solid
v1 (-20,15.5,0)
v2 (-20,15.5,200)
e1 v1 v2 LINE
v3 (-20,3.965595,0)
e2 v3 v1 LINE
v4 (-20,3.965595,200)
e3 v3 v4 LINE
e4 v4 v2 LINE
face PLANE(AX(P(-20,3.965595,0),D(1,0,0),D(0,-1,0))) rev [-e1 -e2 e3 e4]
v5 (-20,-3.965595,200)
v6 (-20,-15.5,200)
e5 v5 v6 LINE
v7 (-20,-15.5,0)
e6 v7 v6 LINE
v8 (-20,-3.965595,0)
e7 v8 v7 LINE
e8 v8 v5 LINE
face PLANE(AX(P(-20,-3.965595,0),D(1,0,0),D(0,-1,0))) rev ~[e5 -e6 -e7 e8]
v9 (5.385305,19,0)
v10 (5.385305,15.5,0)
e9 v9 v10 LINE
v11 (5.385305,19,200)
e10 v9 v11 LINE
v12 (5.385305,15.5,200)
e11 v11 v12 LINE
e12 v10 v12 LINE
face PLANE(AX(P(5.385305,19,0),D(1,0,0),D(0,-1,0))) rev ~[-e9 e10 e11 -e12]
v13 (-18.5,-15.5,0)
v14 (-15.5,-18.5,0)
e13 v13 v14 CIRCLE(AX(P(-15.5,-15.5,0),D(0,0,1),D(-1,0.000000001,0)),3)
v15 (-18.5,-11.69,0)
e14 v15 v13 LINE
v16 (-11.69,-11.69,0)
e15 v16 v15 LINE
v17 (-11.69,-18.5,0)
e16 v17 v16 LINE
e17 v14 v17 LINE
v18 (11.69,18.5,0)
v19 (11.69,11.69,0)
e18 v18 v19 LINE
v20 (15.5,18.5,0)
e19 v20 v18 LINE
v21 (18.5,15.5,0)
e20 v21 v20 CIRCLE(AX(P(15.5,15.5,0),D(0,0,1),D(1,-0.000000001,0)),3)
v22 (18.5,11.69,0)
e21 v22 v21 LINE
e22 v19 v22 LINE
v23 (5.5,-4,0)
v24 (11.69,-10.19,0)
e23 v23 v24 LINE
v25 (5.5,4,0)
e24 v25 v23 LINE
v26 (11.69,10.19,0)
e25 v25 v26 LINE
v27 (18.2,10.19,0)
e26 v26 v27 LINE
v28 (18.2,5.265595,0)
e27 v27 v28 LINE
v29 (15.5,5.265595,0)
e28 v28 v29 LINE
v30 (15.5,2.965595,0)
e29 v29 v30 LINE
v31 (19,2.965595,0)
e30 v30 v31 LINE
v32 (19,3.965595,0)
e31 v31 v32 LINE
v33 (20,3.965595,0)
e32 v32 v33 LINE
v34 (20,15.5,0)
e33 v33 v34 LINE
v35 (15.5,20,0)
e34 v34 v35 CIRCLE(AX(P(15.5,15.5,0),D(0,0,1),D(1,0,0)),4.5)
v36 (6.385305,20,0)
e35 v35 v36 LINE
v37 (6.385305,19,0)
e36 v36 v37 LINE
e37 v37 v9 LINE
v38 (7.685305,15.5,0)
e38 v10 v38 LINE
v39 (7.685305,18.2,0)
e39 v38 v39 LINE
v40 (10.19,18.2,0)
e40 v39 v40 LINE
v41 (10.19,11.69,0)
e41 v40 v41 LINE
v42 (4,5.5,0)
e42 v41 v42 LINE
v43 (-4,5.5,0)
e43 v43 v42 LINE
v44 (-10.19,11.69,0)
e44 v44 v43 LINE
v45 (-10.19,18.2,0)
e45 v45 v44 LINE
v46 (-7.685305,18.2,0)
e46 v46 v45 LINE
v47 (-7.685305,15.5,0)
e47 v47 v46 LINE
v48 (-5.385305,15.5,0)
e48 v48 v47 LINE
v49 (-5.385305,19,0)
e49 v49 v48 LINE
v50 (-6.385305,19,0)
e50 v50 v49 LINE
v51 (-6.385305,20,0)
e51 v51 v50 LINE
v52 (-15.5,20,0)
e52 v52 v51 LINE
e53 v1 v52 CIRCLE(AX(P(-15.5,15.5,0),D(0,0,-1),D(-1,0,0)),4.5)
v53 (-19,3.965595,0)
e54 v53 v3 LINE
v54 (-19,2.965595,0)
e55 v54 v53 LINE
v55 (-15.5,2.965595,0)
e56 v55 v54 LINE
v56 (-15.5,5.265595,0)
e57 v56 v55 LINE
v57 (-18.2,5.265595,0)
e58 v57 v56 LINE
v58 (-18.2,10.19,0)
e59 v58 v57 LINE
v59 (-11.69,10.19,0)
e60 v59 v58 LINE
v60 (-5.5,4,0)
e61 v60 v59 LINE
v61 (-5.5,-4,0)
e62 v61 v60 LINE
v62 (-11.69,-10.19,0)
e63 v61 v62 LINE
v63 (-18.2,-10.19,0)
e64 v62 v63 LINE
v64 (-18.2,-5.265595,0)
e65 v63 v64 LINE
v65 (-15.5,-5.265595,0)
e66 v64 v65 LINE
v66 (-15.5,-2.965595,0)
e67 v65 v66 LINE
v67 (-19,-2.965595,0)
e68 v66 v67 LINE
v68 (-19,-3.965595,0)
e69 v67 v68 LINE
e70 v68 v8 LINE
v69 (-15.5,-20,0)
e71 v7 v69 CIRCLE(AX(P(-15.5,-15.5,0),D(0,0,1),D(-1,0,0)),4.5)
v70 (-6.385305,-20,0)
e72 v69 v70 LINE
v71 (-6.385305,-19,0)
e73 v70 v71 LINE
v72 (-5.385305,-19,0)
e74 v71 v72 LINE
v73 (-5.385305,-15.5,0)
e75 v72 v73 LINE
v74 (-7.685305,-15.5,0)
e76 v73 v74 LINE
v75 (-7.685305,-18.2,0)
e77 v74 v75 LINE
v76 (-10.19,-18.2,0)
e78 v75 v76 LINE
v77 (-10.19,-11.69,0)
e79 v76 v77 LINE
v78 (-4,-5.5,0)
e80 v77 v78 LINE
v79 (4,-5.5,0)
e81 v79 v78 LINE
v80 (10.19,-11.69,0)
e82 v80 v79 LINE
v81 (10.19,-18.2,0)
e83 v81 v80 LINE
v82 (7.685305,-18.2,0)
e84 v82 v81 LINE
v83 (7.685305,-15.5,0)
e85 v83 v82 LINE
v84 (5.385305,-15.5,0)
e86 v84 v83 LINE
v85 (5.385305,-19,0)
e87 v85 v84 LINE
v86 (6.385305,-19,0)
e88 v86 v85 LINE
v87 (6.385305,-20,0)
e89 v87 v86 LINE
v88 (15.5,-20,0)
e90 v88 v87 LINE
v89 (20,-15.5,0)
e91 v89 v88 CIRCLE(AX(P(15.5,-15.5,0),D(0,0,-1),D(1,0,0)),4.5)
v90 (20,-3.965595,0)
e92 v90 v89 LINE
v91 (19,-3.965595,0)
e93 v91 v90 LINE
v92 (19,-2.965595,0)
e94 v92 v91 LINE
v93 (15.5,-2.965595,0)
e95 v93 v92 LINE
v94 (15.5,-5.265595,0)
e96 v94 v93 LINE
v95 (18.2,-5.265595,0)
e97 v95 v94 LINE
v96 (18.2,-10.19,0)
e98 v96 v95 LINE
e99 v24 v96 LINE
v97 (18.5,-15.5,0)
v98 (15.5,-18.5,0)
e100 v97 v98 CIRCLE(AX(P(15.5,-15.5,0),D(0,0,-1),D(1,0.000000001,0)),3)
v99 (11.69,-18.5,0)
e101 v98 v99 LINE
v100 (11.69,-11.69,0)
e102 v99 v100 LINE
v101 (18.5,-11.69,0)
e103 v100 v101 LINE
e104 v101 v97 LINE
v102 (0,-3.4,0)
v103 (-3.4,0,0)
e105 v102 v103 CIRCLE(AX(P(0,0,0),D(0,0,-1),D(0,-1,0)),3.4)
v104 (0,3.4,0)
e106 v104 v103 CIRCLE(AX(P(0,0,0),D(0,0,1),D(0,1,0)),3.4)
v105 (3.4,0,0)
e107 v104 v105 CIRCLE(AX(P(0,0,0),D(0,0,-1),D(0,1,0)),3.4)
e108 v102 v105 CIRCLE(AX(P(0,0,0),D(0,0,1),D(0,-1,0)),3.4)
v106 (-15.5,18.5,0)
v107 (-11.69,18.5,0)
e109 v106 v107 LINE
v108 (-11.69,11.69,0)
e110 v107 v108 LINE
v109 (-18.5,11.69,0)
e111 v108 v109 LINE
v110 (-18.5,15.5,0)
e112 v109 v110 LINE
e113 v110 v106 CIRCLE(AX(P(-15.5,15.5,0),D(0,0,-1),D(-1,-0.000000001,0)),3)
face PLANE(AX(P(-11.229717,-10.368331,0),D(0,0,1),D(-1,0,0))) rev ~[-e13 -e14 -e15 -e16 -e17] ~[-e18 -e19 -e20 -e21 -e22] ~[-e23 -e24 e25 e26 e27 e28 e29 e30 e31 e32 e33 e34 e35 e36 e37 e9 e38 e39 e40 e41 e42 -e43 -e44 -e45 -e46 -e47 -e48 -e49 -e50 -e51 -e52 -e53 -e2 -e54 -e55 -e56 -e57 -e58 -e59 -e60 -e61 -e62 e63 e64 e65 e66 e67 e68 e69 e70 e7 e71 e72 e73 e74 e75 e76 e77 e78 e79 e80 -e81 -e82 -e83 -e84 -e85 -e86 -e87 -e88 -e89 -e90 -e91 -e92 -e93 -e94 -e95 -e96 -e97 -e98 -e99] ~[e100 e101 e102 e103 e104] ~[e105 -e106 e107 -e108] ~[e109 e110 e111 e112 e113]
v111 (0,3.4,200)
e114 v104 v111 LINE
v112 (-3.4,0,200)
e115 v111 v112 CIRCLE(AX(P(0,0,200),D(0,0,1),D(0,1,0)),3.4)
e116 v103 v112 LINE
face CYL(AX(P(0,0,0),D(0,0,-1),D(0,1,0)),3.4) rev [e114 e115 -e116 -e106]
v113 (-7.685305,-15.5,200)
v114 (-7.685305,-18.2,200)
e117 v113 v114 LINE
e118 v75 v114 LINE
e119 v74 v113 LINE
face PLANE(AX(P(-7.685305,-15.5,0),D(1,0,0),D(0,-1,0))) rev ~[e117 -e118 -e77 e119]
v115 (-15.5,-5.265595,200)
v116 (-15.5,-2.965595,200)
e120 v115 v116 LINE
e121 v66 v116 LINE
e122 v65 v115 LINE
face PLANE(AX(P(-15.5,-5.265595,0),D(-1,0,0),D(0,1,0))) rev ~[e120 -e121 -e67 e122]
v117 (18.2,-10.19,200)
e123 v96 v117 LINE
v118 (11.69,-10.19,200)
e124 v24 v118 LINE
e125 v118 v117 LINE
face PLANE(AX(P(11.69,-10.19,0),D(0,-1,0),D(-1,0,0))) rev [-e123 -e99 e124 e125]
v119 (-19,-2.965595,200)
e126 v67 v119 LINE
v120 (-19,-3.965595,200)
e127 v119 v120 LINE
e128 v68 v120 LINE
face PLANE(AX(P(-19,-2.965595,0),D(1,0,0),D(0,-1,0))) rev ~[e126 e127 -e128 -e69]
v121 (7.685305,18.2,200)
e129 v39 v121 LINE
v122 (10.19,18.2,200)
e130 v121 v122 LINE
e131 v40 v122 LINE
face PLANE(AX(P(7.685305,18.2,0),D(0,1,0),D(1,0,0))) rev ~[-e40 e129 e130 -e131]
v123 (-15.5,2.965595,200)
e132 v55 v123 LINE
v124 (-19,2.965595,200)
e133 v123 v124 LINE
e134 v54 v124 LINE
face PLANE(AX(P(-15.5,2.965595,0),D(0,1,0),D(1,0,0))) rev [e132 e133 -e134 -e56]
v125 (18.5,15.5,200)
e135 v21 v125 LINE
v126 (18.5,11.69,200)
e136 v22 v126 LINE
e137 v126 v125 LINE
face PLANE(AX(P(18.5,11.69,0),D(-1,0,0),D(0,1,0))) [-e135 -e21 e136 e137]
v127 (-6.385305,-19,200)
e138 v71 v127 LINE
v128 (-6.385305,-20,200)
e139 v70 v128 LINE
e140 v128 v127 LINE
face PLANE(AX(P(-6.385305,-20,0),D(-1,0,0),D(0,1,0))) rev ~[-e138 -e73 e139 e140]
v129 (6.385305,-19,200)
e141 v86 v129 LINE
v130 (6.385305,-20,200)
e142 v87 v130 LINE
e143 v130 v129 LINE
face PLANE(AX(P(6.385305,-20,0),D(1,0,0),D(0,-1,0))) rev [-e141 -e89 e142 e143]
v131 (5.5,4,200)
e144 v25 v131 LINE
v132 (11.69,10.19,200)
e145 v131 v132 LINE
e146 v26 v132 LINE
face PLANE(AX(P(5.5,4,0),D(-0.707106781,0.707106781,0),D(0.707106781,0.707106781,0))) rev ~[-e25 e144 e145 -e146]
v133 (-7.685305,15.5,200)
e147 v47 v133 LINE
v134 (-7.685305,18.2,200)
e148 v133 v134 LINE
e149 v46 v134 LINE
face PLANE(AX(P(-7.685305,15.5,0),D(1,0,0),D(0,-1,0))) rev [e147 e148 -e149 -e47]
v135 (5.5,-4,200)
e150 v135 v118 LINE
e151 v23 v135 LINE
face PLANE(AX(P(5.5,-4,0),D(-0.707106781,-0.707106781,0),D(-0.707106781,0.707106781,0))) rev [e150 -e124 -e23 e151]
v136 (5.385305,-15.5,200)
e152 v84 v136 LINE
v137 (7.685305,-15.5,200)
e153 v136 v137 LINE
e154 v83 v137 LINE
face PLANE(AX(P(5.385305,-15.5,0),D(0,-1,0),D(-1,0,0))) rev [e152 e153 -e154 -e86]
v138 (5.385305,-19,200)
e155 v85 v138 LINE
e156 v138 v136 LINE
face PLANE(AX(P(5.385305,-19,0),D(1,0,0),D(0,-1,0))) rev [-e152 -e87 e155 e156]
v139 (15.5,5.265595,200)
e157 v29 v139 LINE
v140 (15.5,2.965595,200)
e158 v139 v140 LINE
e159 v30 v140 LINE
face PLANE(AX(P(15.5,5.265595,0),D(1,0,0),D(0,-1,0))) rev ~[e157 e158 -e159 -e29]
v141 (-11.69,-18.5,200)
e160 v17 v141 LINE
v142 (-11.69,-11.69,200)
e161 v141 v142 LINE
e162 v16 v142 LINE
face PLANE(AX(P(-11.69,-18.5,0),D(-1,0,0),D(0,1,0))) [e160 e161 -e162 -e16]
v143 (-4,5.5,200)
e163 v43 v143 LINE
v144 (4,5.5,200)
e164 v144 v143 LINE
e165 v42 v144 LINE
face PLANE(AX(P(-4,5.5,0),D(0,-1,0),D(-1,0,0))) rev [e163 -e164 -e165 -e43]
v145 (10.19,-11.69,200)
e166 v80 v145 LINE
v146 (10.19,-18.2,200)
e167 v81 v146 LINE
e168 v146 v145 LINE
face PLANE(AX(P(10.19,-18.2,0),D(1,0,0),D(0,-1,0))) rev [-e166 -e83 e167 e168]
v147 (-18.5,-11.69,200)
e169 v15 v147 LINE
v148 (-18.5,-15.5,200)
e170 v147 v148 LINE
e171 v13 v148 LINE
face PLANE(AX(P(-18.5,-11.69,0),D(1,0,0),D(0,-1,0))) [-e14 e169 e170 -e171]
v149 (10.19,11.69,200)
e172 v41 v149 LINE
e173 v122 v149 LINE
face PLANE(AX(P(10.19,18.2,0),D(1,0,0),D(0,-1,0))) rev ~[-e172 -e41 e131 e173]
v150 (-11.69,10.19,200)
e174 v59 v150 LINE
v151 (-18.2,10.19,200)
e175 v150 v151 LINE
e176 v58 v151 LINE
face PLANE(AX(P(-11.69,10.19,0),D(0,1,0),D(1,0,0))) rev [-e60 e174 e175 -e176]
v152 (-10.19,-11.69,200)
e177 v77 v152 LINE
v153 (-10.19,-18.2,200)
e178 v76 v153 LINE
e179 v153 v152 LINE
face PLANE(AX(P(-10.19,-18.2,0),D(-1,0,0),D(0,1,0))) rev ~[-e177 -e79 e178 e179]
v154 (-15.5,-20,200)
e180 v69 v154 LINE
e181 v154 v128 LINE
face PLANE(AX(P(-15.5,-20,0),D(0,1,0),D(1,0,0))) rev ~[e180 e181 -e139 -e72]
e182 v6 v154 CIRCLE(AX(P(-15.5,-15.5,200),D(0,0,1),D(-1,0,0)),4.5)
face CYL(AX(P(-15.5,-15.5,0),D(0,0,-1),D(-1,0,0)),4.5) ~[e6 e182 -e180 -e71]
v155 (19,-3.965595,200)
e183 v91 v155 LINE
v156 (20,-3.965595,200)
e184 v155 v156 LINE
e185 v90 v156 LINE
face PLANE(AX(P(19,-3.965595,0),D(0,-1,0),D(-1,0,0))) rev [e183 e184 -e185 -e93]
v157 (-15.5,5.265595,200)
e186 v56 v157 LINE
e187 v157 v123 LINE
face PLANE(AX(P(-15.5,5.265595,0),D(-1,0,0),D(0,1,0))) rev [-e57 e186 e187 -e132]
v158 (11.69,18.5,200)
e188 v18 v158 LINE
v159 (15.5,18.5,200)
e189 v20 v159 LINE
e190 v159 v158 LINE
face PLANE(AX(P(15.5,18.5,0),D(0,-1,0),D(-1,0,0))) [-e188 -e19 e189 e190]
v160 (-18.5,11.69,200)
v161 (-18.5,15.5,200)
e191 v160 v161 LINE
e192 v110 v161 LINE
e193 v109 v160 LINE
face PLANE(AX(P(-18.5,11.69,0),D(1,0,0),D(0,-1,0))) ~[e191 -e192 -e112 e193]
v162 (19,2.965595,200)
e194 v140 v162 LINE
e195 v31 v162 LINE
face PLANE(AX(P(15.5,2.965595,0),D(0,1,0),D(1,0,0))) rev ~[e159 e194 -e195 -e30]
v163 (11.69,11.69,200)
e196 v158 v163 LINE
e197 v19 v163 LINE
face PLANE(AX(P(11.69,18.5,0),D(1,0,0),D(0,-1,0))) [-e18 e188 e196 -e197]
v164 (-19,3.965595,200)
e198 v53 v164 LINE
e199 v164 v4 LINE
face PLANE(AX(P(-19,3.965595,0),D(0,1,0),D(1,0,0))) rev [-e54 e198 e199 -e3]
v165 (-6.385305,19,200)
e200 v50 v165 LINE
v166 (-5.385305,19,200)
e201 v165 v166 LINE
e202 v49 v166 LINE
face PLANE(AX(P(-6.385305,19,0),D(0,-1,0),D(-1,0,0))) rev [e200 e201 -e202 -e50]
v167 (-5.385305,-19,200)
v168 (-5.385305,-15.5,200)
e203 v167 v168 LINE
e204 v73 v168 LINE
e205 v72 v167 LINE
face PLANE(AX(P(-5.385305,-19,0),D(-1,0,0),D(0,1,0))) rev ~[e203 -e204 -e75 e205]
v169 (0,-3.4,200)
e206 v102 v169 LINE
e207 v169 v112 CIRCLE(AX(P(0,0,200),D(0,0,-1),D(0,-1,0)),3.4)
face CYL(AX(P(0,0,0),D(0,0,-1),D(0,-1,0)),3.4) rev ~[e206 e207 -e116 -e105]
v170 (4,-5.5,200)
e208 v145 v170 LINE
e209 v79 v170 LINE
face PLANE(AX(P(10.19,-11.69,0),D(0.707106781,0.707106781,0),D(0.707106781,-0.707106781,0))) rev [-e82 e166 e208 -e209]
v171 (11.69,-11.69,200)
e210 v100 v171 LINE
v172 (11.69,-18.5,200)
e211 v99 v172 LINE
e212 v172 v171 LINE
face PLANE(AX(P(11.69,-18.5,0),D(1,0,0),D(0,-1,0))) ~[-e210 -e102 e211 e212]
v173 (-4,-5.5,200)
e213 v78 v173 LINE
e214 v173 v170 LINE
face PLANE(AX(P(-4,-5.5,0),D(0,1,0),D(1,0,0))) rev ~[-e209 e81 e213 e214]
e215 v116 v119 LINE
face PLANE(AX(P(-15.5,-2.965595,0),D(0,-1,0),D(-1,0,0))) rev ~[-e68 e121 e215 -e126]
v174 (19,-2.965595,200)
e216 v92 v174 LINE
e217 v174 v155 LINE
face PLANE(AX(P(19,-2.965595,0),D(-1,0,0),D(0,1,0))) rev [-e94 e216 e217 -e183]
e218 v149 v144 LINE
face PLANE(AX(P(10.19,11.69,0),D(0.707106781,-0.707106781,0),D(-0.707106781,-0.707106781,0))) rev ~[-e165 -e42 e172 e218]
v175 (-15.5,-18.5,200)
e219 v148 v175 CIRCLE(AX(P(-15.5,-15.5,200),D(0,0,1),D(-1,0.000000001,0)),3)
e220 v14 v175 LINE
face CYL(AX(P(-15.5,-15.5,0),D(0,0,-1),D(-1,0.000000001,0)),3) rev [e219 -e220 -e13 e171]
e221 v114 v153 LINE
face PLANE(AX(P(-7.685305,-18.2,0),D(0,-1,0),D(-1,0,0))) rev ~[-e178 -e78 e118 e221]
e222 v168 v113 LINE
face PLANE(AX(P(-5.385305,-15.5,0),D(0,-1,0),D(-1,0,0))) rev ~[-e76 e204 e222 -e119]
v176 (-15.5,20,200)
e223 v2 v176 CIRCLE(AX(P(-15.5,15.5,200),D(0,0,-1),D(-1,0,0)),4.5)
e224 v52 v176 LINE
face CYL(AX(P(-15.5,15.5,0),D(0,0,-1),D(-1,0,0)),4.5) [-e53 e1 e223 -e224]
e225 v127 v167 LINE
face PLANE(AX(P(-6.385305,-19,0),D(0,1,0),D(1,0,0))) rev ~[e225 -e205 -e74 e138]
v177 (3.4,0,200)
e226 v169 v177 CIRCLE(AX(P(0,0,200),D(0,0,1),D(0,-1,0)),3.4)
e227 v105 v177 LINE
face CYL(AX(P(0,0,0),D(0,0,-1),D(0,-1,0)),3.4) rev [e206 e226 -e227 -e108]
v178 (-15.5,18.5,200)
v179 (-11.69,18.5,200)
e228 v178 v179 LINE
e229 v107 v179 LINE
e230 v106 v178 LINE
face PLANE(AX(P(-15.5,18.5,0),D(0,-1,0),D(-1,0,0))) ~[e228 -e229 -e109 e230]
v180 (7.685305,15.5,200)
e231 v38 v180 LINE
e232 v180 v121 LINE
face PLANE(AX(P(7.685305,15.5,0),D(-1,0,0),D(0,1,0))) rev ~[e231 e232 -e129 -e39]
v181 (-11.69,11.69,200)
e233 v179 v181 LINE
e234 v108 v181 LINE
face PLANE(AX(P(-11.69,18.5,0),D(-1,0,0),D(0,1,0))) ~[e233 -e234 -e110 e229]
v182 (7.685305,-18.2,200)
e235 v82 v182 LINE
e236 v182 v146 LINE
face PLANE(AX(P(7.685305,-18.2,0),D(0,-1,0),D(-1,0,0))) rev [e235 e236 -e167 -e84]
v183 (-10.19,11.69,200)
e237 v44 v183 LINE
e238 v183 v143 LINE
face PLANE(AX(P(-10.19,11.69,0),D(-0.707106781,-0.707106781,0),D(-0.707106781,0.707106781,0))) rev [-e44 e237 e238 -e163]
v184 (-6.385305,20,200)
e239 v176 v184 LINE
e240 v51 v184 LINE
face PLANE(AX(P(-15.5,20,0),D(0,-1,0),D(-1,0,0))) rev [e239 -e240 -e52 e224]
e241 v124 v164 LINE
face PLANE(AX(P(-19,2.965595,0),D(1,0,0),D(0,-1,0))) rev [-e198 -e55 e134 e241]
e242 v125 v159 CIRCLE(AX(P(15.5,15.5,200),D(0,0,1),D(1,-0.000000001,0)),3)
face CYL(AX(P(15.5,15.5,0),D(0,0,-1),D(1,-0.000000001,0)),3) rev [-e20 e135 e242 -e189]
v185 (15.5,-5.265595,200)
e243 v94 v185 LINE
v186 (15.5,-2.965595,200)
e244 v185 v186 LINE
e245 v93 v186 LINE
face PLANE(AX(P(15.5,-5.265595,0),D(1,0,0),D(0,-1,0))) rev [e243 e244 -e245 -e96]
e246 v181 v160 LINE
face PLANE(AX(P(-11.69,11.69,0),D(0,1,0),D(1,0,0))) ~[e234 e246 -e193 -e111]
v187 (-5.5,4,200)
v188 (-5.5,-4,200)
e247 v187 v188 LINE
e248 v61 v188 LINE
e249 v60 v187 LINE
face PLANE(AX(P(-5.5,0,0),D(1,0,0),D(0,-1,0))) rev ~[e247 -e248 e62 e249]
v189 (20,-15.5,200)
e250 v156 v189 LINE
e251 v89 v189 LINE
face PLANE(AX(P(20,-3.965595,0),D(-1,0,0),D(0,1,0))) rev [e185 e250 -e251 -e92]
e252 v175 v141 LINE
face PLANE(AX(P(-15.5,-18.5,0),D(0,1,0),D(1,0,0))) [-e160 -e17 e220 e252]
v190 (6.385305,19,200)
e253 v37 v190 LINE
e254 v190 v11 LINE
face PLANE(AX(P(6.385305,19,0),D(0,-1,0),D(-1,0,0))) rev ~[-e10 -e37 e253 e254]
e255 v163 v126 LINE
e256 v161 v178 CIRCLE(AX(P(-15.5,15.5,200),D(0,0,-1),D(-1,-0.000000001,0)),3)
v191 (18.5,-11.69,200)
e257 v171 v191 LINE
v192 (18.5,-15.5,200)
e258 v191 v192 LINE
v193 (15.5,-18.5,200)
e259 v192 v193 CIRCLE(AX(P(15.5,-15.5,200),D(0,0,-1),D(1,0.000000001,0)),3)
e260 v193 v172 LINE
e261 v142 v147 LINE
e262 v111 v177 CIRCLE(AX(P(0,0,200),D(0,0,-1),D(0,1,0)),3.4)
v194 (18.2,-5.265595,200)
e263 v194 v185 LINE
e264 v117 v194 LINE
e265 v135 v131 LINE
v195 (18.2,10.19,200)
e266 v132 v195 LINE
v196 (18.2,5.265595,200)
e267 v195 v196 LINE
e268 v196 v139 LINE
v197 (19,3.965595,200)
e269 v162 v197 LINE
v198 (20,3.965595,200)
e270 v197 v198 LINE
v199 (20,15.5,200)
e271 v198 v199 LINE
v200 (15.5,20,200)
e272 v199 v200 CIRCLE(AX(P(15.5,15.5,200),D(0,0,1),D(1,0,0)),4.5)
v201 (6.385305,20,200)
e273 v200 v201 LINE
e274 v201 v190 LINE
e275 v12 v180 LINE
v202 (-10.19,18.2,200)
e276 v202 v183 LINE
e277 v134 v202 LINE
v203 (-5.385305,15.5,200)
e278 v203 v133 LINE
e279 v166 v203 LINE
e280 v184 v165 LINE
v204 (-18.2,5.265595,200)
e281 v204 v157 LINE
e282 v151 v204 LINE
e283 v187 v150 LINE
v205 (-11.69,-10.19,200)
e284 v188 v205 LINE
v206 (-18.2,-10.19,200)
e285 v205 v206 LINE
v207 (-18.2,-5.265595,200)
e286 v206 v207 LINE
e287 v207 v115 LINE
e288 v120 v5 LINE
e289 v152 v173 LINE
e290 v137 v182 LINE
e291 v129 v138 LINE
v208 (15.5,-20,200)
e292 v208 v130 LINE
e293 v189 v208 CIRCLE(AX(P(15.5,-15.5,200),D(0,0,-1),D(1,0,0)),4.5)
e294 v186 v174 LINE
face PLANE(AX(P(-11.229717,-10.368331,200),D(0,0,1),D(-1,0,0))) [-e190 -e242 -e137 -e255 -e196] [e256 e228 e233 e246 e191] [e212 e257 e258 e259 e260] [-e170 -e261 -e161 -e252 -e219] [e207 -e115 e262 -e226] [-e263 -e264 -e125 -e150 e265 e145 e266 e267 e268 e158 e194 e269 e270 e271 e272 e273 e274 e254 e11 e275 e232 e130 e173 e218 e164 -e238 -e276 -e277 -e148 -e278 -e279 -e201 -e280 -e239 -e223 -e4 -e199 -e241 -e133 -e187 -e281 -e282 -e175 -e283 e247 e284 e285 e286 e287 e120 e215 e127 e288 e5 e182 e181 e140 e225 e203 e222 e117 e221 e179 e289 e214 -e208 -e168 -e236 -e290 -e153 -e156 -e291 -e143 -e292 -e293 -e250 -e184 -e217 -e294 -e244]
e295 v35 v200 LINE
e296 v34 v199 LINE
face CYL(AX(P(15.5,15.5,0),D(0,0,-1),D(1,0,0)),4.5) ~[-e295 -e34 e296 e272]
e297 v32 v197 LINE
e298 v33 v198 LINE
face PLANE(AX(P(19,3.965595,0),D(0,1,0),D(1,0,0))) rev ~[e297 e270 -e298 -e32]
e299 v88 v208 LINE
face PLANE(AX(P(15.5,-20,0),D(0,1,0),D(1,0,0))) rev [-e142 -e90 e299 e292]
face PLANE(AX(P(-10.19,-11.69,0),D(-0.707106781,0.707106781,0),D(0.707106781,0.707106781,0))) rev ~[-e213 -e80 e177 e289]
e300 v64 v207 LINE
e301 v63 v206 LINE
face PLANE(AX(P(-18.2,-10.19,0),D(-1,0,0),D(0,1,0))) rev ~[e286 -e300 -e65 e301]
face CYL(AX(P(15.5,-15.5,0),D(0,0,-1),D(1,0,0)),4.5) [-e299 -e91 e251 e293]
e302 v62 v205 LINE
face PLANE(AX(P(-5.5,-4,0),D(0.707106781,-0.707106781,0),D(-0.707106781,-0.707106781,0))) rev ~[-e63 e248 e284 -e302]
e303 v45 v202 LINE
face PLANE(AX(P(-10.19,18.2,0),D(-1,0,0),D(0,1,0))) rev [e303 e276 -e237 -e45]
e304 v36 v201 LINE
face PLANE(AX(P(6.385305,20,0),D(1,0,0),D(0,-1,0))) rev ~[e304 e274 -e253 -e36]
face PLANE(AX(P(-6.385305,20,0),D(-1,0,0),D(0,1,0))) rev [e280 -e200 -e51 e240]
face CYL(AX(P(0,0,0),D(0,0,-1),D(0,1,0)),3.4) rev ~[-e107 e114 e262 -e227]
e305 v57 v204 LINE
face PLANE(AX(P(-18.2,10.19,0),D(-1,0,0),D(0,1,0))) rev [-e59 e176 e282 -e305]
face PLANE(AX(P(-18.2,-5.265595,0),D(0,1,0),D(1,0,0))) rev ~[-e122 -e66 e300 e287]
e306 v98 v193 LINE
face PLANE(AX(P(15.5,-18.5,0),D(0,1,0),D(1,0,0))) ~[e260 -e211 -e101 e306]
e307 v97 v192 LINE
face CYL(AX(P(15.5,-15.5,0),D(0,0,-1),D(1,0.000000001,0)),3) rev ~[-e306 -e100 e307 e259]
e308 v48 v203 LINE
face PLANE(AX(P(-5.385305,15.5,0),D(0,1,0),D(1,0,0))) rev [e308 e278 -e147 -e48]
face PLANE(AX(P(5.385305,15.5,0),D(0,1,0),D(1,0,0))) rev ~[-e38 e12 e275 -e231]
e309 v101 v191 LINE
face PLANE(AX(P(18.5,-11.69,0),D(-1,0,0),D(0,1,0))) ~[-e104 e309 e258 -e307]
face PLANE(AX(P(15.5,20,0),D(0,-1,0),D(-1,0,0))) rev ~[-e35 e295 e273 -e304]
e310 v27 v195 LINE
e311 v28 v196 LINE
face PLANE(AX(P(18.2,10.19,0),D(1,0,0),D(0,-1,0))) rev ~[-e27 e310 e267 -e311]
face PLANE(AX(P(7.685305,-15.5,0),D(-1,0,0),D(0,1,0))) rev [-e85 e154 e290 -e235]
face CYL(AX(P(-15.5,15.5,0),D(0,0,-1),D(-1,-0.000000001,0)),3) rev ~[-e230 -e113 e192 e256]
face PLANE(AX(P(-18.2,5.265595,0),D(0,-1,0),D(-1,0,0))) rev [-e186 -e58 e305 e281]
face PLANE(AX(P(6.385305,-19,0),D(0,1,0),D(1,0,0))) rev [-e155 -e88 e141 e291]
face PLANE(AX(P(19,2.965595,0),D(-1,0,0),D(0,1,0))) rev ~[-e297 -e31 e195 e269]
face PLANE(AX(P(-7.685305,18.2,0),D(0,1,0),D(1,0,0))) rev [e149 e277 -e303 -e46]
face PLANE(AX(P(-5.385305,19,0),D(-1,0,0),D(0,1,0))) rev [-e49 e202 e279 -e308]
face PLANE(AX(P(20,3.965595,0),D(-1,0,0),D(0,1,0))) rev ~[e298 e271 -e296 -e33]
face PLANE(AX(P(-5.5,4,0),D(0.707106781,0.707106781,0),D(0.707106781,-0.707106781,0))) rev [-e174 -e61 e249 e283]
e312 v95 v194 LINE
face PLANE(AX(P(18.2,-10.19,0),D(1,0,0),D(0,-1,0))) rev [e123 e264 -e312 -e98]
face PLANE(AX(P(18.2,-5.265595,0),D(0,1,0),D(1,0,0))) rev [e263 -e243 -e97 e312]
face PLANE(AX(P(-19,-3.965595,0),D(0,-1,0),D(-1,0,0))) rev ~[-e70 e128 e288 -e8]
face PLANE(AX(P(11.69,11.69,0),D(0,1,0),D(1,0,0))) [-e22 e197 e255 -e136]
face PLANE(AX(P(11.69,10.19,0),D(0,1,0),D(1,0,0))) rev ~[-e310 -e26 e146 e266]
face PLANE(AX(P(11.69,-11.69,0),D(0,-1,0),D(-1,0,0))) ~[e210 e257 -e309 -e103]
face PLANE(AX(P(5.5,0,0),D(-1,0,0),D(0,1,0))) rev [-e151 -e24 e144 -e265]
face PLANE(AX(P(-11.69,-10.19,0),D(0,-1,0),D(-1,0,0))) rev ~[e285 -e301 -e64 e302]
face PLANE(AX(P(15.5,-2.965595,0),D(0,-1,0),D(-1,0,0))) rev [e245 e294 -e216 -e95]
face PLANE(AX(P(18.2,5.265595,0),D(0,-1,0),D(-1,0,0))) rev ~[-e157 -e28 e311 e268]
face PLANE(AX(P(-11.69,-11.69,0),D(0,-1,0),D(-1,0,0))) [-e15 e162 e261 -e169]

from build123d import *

# Parameters (mm, degrees)
BOSS_EXTRUDE1_DEPTH  = 200
MIRROR3_COPY_1_DEPTH = 200
MIRROR3_COPY_2_DEPTH = 200


with BuildPart() as part:
    # Sketch1 → Boss-Extrude1 (new body)
    with BuildSketch(Plane.XY):
        with BuildLine():
            Line((3.4, 0), (5.5, 0))
            Line((5.5, 0), (5.5, 4))
            Line((5.5, 4), (11.69, 10.19))
            Line((11.69, 10.19), (18.2, 10.19))
            Line((18.2, 10.19), (18.2, 5.265595036))
            Line((18.2, 5.265595036), (15.5, 5.265595036))
            Line((15.5, 5.265595036), (15.5, 2.965595036))
            Line((15.5, 2.965595036), (19, 2.965595036))
            Line((19, 2.965595036), (19, 3.965595036))
            Line((19, 3.965595036), (20, 3.965595036))
            Line((20, 3.965595036), (20, 15.5))
            ThreePointArc((20, 15.5), (18.681980515, 18.681980515), (15.5, 20))
            Line((15.5, 20), (6.385304712, 20))
            Line((6.385304712, 20), (6.385304712, 19))
            Line((6.385304712, 19), (5.385304712, 19))
            Line((5.385304712, 19), (5.385304712, 15.5))
            Line((5.385304712, 15.5), (7.685304712, 15.5))
            Line((7.685304712, 15.5), (7.685304712, 18.2))
            Line((7.685304712, 18.2), (10.19, 18.2))
            Line((10.19, 18.2), (10.19, 11.69))
            Line((10.19, 11.69), (4, 5.5))
            Line((4, 5.5), (0, 5.5))
            Line((0, 5.5), (0, 3.4))
            ThreePointArc((0, 3.4), (2.404163056, 2.404163056), (3.4, 0))
        make_face()
        with BuildLine():
            Line((18.5, 11.69), (18.5, 15.5))
            ThreePointArc((18.5, 15.5), (17.621320344, 17.621320344), (15.5, 18.5))
            Line((15.5, 18.5), (11.69, 18.5))
            Line((11.69, 18.5), (11.69, 11.69))
            Line((11.69, 11.69), (18.5, 11.69))
        make_face(mode=Mode.SUBTRACT)
    boss_extrude1 = extrude(amount=BOSS_EXTRUDE1_DEPTH)

    # Mirror1: Boss-Extrude1 across plane
    add(boss_extrude1.mirror(Plane.ZX))

    # Mirror2: Boss-Extrude1 across plane
    add(boss_extrude1.mirror(Plane(origin=(0, 0, 0), x_dir=(0, 0, 1), z_dir=(1, 0, 0))))

    # Mirror3 copy 1 sketch → Mirror3 copy 1 (add)
    with BuildSketch(Plane(origin=(0, 0, 0), x_dir=(-1, 0, 0), z_dir=(0, 0, 1))):
        with BuildLine():
            Line((3.4, 0), (5.5, 0))
            Line((5.5, 0), (5.5, 4))
            Line((5.5, 4), (11.69, 10.19))
            Line((11.69, 10.19), (18.2, 10.19))
            Line((18.2, 10.19), (18.2, 5.265595036))
            Line((18.2, 5.265595036), (15.5, 5.265595036))
            Line((15.5, 5.265595036), (15.5, 2.965595036))
            Line((15.5, 2.965595036), (19, 2.965595036))
            Line((19, 2.965595036), (19, 3.965595036))
            Line((19, 3.965595036), (20, 3.965595036))
            Line((20, 3.965595036), (20, 15.5))
            ThreePointArc((20, 15.5), (18.681980515, 18.681980515), (15.5, 20))
            Line((15.5, 20), (6.385304712, 20))
            Line((6.385304712, 20), (6.385304712, 19))
            Line((6.385304712, 19), (5.385304712, 19))
            Line((5.385304712, 19), (5.385304712, 15.5))
            Line((5.385304712, 15.5), (7.685304712, 15.5))
            Line((7.685304712, 15.5), (7.685304712, 18.2))
            Line((7.685304712, 18.2), (10.19, 18.2))
            Line((10.19, 18.2), (10.19, 11.69))
            Line((10.19, 11.69), (4, 5.5))
            Line((4, 5.5), (0, 5.5))
            Line((0, 5.5), (0, 3.4))
            ThreePointArc((0, 3.4), (2.404163056, 2.404163056), (3.4, 0))
        make_face()
        with BuildLine():
            Line((18.5, 11.69), (18.5, 15.5))
            ThreePointArc((18.5, 15.5), (17.621320344, 17.621320344), (15.5, 18.5))
            Line((15.5, 18.5), (11.69, 18.5))
            Line((11.69, 18.5), (11.69, 11.69))
            Line((11.69, 11.69), (18.5, 11.69))
        make_face(mode=Mode.SUBTRACT)
    extrude(amount=MIRROR3_COPY_1_DEPTH)

    # Mirror3 copy 2 sketch → Mirror3 copy 2 (add)
    with BuildSketch(Plane.XY):
        with BuildLine():
            Line((3.4, 0), (5.5, 0))
            Line((5.5, 0), (5.5, -4))
            Line((5.5, -4), (11.69, -10.19))
            Line((11.69, -10.19), (18.2, -10.19))
            Line((18.2, -10.19), (18.2, -5.265595036))
            Line((18.2, -5.265595036), (15.5, -5.265595036))
            Line((15.5, -5.265595036), (15.5, -2.965595036))
            Line((15.5, -2.965595036), (19, -2.965595036))
            Line((19, -2.965595036), (19, -3.965595036))
            Line((19, -3.965595036), (20, -3.965595036))
            Line((20, -3.965595036), (20, -15.5))
            ThreePointArc((20, -15.5), (18.681980515, -18.681980515), (15.5, -20))
            Line((15.5, -20), (6.385304712, -20))
            Line((6.385304712, -20), (6.385304712, -19))
            Line((6.385304712, -19), (5.385304712, -19))
            Line((5.385304712, -19), (5.385304712, -15.5))
            Line((5.385304712, -15.5), (7.685304712, -15.5))
            Line((7.685304712, -15.5), (7.685304712, -18.2))
            Line((7.685304712, -18.2), (10.19, -18.2))
            Line((10.19, -18.2), (10.19, -11.69))
            Line((10.19, -11.69), (4, -5.5))
            Line((4, -5.5), (0, -5.5))
            Line((0, -5.5), (0, -3.4))
            ThreePointArc((0, -3.4), (2.404163056, -2.404163056), (3.4, 0))
        make_face()
        with BuildLine():
            Line((18.5, -11.69), (18.5, -15.5))
            ThreePointArc((18.5, -15.5), (17.621320344, -17.621320344), (15.5, -18.5))
            Line((15.5, -18.5), (11.69, -18.5))
            Line((11.69, -18.5), (11.69, -11.69))
            Line((11.69, -11.69), (18.5, -11.69))
        make_face(mode=Mode.SUBTRACT)
    extrude(amount=MIRROR3_COPY_2_DEPTH)


solid = part.part
